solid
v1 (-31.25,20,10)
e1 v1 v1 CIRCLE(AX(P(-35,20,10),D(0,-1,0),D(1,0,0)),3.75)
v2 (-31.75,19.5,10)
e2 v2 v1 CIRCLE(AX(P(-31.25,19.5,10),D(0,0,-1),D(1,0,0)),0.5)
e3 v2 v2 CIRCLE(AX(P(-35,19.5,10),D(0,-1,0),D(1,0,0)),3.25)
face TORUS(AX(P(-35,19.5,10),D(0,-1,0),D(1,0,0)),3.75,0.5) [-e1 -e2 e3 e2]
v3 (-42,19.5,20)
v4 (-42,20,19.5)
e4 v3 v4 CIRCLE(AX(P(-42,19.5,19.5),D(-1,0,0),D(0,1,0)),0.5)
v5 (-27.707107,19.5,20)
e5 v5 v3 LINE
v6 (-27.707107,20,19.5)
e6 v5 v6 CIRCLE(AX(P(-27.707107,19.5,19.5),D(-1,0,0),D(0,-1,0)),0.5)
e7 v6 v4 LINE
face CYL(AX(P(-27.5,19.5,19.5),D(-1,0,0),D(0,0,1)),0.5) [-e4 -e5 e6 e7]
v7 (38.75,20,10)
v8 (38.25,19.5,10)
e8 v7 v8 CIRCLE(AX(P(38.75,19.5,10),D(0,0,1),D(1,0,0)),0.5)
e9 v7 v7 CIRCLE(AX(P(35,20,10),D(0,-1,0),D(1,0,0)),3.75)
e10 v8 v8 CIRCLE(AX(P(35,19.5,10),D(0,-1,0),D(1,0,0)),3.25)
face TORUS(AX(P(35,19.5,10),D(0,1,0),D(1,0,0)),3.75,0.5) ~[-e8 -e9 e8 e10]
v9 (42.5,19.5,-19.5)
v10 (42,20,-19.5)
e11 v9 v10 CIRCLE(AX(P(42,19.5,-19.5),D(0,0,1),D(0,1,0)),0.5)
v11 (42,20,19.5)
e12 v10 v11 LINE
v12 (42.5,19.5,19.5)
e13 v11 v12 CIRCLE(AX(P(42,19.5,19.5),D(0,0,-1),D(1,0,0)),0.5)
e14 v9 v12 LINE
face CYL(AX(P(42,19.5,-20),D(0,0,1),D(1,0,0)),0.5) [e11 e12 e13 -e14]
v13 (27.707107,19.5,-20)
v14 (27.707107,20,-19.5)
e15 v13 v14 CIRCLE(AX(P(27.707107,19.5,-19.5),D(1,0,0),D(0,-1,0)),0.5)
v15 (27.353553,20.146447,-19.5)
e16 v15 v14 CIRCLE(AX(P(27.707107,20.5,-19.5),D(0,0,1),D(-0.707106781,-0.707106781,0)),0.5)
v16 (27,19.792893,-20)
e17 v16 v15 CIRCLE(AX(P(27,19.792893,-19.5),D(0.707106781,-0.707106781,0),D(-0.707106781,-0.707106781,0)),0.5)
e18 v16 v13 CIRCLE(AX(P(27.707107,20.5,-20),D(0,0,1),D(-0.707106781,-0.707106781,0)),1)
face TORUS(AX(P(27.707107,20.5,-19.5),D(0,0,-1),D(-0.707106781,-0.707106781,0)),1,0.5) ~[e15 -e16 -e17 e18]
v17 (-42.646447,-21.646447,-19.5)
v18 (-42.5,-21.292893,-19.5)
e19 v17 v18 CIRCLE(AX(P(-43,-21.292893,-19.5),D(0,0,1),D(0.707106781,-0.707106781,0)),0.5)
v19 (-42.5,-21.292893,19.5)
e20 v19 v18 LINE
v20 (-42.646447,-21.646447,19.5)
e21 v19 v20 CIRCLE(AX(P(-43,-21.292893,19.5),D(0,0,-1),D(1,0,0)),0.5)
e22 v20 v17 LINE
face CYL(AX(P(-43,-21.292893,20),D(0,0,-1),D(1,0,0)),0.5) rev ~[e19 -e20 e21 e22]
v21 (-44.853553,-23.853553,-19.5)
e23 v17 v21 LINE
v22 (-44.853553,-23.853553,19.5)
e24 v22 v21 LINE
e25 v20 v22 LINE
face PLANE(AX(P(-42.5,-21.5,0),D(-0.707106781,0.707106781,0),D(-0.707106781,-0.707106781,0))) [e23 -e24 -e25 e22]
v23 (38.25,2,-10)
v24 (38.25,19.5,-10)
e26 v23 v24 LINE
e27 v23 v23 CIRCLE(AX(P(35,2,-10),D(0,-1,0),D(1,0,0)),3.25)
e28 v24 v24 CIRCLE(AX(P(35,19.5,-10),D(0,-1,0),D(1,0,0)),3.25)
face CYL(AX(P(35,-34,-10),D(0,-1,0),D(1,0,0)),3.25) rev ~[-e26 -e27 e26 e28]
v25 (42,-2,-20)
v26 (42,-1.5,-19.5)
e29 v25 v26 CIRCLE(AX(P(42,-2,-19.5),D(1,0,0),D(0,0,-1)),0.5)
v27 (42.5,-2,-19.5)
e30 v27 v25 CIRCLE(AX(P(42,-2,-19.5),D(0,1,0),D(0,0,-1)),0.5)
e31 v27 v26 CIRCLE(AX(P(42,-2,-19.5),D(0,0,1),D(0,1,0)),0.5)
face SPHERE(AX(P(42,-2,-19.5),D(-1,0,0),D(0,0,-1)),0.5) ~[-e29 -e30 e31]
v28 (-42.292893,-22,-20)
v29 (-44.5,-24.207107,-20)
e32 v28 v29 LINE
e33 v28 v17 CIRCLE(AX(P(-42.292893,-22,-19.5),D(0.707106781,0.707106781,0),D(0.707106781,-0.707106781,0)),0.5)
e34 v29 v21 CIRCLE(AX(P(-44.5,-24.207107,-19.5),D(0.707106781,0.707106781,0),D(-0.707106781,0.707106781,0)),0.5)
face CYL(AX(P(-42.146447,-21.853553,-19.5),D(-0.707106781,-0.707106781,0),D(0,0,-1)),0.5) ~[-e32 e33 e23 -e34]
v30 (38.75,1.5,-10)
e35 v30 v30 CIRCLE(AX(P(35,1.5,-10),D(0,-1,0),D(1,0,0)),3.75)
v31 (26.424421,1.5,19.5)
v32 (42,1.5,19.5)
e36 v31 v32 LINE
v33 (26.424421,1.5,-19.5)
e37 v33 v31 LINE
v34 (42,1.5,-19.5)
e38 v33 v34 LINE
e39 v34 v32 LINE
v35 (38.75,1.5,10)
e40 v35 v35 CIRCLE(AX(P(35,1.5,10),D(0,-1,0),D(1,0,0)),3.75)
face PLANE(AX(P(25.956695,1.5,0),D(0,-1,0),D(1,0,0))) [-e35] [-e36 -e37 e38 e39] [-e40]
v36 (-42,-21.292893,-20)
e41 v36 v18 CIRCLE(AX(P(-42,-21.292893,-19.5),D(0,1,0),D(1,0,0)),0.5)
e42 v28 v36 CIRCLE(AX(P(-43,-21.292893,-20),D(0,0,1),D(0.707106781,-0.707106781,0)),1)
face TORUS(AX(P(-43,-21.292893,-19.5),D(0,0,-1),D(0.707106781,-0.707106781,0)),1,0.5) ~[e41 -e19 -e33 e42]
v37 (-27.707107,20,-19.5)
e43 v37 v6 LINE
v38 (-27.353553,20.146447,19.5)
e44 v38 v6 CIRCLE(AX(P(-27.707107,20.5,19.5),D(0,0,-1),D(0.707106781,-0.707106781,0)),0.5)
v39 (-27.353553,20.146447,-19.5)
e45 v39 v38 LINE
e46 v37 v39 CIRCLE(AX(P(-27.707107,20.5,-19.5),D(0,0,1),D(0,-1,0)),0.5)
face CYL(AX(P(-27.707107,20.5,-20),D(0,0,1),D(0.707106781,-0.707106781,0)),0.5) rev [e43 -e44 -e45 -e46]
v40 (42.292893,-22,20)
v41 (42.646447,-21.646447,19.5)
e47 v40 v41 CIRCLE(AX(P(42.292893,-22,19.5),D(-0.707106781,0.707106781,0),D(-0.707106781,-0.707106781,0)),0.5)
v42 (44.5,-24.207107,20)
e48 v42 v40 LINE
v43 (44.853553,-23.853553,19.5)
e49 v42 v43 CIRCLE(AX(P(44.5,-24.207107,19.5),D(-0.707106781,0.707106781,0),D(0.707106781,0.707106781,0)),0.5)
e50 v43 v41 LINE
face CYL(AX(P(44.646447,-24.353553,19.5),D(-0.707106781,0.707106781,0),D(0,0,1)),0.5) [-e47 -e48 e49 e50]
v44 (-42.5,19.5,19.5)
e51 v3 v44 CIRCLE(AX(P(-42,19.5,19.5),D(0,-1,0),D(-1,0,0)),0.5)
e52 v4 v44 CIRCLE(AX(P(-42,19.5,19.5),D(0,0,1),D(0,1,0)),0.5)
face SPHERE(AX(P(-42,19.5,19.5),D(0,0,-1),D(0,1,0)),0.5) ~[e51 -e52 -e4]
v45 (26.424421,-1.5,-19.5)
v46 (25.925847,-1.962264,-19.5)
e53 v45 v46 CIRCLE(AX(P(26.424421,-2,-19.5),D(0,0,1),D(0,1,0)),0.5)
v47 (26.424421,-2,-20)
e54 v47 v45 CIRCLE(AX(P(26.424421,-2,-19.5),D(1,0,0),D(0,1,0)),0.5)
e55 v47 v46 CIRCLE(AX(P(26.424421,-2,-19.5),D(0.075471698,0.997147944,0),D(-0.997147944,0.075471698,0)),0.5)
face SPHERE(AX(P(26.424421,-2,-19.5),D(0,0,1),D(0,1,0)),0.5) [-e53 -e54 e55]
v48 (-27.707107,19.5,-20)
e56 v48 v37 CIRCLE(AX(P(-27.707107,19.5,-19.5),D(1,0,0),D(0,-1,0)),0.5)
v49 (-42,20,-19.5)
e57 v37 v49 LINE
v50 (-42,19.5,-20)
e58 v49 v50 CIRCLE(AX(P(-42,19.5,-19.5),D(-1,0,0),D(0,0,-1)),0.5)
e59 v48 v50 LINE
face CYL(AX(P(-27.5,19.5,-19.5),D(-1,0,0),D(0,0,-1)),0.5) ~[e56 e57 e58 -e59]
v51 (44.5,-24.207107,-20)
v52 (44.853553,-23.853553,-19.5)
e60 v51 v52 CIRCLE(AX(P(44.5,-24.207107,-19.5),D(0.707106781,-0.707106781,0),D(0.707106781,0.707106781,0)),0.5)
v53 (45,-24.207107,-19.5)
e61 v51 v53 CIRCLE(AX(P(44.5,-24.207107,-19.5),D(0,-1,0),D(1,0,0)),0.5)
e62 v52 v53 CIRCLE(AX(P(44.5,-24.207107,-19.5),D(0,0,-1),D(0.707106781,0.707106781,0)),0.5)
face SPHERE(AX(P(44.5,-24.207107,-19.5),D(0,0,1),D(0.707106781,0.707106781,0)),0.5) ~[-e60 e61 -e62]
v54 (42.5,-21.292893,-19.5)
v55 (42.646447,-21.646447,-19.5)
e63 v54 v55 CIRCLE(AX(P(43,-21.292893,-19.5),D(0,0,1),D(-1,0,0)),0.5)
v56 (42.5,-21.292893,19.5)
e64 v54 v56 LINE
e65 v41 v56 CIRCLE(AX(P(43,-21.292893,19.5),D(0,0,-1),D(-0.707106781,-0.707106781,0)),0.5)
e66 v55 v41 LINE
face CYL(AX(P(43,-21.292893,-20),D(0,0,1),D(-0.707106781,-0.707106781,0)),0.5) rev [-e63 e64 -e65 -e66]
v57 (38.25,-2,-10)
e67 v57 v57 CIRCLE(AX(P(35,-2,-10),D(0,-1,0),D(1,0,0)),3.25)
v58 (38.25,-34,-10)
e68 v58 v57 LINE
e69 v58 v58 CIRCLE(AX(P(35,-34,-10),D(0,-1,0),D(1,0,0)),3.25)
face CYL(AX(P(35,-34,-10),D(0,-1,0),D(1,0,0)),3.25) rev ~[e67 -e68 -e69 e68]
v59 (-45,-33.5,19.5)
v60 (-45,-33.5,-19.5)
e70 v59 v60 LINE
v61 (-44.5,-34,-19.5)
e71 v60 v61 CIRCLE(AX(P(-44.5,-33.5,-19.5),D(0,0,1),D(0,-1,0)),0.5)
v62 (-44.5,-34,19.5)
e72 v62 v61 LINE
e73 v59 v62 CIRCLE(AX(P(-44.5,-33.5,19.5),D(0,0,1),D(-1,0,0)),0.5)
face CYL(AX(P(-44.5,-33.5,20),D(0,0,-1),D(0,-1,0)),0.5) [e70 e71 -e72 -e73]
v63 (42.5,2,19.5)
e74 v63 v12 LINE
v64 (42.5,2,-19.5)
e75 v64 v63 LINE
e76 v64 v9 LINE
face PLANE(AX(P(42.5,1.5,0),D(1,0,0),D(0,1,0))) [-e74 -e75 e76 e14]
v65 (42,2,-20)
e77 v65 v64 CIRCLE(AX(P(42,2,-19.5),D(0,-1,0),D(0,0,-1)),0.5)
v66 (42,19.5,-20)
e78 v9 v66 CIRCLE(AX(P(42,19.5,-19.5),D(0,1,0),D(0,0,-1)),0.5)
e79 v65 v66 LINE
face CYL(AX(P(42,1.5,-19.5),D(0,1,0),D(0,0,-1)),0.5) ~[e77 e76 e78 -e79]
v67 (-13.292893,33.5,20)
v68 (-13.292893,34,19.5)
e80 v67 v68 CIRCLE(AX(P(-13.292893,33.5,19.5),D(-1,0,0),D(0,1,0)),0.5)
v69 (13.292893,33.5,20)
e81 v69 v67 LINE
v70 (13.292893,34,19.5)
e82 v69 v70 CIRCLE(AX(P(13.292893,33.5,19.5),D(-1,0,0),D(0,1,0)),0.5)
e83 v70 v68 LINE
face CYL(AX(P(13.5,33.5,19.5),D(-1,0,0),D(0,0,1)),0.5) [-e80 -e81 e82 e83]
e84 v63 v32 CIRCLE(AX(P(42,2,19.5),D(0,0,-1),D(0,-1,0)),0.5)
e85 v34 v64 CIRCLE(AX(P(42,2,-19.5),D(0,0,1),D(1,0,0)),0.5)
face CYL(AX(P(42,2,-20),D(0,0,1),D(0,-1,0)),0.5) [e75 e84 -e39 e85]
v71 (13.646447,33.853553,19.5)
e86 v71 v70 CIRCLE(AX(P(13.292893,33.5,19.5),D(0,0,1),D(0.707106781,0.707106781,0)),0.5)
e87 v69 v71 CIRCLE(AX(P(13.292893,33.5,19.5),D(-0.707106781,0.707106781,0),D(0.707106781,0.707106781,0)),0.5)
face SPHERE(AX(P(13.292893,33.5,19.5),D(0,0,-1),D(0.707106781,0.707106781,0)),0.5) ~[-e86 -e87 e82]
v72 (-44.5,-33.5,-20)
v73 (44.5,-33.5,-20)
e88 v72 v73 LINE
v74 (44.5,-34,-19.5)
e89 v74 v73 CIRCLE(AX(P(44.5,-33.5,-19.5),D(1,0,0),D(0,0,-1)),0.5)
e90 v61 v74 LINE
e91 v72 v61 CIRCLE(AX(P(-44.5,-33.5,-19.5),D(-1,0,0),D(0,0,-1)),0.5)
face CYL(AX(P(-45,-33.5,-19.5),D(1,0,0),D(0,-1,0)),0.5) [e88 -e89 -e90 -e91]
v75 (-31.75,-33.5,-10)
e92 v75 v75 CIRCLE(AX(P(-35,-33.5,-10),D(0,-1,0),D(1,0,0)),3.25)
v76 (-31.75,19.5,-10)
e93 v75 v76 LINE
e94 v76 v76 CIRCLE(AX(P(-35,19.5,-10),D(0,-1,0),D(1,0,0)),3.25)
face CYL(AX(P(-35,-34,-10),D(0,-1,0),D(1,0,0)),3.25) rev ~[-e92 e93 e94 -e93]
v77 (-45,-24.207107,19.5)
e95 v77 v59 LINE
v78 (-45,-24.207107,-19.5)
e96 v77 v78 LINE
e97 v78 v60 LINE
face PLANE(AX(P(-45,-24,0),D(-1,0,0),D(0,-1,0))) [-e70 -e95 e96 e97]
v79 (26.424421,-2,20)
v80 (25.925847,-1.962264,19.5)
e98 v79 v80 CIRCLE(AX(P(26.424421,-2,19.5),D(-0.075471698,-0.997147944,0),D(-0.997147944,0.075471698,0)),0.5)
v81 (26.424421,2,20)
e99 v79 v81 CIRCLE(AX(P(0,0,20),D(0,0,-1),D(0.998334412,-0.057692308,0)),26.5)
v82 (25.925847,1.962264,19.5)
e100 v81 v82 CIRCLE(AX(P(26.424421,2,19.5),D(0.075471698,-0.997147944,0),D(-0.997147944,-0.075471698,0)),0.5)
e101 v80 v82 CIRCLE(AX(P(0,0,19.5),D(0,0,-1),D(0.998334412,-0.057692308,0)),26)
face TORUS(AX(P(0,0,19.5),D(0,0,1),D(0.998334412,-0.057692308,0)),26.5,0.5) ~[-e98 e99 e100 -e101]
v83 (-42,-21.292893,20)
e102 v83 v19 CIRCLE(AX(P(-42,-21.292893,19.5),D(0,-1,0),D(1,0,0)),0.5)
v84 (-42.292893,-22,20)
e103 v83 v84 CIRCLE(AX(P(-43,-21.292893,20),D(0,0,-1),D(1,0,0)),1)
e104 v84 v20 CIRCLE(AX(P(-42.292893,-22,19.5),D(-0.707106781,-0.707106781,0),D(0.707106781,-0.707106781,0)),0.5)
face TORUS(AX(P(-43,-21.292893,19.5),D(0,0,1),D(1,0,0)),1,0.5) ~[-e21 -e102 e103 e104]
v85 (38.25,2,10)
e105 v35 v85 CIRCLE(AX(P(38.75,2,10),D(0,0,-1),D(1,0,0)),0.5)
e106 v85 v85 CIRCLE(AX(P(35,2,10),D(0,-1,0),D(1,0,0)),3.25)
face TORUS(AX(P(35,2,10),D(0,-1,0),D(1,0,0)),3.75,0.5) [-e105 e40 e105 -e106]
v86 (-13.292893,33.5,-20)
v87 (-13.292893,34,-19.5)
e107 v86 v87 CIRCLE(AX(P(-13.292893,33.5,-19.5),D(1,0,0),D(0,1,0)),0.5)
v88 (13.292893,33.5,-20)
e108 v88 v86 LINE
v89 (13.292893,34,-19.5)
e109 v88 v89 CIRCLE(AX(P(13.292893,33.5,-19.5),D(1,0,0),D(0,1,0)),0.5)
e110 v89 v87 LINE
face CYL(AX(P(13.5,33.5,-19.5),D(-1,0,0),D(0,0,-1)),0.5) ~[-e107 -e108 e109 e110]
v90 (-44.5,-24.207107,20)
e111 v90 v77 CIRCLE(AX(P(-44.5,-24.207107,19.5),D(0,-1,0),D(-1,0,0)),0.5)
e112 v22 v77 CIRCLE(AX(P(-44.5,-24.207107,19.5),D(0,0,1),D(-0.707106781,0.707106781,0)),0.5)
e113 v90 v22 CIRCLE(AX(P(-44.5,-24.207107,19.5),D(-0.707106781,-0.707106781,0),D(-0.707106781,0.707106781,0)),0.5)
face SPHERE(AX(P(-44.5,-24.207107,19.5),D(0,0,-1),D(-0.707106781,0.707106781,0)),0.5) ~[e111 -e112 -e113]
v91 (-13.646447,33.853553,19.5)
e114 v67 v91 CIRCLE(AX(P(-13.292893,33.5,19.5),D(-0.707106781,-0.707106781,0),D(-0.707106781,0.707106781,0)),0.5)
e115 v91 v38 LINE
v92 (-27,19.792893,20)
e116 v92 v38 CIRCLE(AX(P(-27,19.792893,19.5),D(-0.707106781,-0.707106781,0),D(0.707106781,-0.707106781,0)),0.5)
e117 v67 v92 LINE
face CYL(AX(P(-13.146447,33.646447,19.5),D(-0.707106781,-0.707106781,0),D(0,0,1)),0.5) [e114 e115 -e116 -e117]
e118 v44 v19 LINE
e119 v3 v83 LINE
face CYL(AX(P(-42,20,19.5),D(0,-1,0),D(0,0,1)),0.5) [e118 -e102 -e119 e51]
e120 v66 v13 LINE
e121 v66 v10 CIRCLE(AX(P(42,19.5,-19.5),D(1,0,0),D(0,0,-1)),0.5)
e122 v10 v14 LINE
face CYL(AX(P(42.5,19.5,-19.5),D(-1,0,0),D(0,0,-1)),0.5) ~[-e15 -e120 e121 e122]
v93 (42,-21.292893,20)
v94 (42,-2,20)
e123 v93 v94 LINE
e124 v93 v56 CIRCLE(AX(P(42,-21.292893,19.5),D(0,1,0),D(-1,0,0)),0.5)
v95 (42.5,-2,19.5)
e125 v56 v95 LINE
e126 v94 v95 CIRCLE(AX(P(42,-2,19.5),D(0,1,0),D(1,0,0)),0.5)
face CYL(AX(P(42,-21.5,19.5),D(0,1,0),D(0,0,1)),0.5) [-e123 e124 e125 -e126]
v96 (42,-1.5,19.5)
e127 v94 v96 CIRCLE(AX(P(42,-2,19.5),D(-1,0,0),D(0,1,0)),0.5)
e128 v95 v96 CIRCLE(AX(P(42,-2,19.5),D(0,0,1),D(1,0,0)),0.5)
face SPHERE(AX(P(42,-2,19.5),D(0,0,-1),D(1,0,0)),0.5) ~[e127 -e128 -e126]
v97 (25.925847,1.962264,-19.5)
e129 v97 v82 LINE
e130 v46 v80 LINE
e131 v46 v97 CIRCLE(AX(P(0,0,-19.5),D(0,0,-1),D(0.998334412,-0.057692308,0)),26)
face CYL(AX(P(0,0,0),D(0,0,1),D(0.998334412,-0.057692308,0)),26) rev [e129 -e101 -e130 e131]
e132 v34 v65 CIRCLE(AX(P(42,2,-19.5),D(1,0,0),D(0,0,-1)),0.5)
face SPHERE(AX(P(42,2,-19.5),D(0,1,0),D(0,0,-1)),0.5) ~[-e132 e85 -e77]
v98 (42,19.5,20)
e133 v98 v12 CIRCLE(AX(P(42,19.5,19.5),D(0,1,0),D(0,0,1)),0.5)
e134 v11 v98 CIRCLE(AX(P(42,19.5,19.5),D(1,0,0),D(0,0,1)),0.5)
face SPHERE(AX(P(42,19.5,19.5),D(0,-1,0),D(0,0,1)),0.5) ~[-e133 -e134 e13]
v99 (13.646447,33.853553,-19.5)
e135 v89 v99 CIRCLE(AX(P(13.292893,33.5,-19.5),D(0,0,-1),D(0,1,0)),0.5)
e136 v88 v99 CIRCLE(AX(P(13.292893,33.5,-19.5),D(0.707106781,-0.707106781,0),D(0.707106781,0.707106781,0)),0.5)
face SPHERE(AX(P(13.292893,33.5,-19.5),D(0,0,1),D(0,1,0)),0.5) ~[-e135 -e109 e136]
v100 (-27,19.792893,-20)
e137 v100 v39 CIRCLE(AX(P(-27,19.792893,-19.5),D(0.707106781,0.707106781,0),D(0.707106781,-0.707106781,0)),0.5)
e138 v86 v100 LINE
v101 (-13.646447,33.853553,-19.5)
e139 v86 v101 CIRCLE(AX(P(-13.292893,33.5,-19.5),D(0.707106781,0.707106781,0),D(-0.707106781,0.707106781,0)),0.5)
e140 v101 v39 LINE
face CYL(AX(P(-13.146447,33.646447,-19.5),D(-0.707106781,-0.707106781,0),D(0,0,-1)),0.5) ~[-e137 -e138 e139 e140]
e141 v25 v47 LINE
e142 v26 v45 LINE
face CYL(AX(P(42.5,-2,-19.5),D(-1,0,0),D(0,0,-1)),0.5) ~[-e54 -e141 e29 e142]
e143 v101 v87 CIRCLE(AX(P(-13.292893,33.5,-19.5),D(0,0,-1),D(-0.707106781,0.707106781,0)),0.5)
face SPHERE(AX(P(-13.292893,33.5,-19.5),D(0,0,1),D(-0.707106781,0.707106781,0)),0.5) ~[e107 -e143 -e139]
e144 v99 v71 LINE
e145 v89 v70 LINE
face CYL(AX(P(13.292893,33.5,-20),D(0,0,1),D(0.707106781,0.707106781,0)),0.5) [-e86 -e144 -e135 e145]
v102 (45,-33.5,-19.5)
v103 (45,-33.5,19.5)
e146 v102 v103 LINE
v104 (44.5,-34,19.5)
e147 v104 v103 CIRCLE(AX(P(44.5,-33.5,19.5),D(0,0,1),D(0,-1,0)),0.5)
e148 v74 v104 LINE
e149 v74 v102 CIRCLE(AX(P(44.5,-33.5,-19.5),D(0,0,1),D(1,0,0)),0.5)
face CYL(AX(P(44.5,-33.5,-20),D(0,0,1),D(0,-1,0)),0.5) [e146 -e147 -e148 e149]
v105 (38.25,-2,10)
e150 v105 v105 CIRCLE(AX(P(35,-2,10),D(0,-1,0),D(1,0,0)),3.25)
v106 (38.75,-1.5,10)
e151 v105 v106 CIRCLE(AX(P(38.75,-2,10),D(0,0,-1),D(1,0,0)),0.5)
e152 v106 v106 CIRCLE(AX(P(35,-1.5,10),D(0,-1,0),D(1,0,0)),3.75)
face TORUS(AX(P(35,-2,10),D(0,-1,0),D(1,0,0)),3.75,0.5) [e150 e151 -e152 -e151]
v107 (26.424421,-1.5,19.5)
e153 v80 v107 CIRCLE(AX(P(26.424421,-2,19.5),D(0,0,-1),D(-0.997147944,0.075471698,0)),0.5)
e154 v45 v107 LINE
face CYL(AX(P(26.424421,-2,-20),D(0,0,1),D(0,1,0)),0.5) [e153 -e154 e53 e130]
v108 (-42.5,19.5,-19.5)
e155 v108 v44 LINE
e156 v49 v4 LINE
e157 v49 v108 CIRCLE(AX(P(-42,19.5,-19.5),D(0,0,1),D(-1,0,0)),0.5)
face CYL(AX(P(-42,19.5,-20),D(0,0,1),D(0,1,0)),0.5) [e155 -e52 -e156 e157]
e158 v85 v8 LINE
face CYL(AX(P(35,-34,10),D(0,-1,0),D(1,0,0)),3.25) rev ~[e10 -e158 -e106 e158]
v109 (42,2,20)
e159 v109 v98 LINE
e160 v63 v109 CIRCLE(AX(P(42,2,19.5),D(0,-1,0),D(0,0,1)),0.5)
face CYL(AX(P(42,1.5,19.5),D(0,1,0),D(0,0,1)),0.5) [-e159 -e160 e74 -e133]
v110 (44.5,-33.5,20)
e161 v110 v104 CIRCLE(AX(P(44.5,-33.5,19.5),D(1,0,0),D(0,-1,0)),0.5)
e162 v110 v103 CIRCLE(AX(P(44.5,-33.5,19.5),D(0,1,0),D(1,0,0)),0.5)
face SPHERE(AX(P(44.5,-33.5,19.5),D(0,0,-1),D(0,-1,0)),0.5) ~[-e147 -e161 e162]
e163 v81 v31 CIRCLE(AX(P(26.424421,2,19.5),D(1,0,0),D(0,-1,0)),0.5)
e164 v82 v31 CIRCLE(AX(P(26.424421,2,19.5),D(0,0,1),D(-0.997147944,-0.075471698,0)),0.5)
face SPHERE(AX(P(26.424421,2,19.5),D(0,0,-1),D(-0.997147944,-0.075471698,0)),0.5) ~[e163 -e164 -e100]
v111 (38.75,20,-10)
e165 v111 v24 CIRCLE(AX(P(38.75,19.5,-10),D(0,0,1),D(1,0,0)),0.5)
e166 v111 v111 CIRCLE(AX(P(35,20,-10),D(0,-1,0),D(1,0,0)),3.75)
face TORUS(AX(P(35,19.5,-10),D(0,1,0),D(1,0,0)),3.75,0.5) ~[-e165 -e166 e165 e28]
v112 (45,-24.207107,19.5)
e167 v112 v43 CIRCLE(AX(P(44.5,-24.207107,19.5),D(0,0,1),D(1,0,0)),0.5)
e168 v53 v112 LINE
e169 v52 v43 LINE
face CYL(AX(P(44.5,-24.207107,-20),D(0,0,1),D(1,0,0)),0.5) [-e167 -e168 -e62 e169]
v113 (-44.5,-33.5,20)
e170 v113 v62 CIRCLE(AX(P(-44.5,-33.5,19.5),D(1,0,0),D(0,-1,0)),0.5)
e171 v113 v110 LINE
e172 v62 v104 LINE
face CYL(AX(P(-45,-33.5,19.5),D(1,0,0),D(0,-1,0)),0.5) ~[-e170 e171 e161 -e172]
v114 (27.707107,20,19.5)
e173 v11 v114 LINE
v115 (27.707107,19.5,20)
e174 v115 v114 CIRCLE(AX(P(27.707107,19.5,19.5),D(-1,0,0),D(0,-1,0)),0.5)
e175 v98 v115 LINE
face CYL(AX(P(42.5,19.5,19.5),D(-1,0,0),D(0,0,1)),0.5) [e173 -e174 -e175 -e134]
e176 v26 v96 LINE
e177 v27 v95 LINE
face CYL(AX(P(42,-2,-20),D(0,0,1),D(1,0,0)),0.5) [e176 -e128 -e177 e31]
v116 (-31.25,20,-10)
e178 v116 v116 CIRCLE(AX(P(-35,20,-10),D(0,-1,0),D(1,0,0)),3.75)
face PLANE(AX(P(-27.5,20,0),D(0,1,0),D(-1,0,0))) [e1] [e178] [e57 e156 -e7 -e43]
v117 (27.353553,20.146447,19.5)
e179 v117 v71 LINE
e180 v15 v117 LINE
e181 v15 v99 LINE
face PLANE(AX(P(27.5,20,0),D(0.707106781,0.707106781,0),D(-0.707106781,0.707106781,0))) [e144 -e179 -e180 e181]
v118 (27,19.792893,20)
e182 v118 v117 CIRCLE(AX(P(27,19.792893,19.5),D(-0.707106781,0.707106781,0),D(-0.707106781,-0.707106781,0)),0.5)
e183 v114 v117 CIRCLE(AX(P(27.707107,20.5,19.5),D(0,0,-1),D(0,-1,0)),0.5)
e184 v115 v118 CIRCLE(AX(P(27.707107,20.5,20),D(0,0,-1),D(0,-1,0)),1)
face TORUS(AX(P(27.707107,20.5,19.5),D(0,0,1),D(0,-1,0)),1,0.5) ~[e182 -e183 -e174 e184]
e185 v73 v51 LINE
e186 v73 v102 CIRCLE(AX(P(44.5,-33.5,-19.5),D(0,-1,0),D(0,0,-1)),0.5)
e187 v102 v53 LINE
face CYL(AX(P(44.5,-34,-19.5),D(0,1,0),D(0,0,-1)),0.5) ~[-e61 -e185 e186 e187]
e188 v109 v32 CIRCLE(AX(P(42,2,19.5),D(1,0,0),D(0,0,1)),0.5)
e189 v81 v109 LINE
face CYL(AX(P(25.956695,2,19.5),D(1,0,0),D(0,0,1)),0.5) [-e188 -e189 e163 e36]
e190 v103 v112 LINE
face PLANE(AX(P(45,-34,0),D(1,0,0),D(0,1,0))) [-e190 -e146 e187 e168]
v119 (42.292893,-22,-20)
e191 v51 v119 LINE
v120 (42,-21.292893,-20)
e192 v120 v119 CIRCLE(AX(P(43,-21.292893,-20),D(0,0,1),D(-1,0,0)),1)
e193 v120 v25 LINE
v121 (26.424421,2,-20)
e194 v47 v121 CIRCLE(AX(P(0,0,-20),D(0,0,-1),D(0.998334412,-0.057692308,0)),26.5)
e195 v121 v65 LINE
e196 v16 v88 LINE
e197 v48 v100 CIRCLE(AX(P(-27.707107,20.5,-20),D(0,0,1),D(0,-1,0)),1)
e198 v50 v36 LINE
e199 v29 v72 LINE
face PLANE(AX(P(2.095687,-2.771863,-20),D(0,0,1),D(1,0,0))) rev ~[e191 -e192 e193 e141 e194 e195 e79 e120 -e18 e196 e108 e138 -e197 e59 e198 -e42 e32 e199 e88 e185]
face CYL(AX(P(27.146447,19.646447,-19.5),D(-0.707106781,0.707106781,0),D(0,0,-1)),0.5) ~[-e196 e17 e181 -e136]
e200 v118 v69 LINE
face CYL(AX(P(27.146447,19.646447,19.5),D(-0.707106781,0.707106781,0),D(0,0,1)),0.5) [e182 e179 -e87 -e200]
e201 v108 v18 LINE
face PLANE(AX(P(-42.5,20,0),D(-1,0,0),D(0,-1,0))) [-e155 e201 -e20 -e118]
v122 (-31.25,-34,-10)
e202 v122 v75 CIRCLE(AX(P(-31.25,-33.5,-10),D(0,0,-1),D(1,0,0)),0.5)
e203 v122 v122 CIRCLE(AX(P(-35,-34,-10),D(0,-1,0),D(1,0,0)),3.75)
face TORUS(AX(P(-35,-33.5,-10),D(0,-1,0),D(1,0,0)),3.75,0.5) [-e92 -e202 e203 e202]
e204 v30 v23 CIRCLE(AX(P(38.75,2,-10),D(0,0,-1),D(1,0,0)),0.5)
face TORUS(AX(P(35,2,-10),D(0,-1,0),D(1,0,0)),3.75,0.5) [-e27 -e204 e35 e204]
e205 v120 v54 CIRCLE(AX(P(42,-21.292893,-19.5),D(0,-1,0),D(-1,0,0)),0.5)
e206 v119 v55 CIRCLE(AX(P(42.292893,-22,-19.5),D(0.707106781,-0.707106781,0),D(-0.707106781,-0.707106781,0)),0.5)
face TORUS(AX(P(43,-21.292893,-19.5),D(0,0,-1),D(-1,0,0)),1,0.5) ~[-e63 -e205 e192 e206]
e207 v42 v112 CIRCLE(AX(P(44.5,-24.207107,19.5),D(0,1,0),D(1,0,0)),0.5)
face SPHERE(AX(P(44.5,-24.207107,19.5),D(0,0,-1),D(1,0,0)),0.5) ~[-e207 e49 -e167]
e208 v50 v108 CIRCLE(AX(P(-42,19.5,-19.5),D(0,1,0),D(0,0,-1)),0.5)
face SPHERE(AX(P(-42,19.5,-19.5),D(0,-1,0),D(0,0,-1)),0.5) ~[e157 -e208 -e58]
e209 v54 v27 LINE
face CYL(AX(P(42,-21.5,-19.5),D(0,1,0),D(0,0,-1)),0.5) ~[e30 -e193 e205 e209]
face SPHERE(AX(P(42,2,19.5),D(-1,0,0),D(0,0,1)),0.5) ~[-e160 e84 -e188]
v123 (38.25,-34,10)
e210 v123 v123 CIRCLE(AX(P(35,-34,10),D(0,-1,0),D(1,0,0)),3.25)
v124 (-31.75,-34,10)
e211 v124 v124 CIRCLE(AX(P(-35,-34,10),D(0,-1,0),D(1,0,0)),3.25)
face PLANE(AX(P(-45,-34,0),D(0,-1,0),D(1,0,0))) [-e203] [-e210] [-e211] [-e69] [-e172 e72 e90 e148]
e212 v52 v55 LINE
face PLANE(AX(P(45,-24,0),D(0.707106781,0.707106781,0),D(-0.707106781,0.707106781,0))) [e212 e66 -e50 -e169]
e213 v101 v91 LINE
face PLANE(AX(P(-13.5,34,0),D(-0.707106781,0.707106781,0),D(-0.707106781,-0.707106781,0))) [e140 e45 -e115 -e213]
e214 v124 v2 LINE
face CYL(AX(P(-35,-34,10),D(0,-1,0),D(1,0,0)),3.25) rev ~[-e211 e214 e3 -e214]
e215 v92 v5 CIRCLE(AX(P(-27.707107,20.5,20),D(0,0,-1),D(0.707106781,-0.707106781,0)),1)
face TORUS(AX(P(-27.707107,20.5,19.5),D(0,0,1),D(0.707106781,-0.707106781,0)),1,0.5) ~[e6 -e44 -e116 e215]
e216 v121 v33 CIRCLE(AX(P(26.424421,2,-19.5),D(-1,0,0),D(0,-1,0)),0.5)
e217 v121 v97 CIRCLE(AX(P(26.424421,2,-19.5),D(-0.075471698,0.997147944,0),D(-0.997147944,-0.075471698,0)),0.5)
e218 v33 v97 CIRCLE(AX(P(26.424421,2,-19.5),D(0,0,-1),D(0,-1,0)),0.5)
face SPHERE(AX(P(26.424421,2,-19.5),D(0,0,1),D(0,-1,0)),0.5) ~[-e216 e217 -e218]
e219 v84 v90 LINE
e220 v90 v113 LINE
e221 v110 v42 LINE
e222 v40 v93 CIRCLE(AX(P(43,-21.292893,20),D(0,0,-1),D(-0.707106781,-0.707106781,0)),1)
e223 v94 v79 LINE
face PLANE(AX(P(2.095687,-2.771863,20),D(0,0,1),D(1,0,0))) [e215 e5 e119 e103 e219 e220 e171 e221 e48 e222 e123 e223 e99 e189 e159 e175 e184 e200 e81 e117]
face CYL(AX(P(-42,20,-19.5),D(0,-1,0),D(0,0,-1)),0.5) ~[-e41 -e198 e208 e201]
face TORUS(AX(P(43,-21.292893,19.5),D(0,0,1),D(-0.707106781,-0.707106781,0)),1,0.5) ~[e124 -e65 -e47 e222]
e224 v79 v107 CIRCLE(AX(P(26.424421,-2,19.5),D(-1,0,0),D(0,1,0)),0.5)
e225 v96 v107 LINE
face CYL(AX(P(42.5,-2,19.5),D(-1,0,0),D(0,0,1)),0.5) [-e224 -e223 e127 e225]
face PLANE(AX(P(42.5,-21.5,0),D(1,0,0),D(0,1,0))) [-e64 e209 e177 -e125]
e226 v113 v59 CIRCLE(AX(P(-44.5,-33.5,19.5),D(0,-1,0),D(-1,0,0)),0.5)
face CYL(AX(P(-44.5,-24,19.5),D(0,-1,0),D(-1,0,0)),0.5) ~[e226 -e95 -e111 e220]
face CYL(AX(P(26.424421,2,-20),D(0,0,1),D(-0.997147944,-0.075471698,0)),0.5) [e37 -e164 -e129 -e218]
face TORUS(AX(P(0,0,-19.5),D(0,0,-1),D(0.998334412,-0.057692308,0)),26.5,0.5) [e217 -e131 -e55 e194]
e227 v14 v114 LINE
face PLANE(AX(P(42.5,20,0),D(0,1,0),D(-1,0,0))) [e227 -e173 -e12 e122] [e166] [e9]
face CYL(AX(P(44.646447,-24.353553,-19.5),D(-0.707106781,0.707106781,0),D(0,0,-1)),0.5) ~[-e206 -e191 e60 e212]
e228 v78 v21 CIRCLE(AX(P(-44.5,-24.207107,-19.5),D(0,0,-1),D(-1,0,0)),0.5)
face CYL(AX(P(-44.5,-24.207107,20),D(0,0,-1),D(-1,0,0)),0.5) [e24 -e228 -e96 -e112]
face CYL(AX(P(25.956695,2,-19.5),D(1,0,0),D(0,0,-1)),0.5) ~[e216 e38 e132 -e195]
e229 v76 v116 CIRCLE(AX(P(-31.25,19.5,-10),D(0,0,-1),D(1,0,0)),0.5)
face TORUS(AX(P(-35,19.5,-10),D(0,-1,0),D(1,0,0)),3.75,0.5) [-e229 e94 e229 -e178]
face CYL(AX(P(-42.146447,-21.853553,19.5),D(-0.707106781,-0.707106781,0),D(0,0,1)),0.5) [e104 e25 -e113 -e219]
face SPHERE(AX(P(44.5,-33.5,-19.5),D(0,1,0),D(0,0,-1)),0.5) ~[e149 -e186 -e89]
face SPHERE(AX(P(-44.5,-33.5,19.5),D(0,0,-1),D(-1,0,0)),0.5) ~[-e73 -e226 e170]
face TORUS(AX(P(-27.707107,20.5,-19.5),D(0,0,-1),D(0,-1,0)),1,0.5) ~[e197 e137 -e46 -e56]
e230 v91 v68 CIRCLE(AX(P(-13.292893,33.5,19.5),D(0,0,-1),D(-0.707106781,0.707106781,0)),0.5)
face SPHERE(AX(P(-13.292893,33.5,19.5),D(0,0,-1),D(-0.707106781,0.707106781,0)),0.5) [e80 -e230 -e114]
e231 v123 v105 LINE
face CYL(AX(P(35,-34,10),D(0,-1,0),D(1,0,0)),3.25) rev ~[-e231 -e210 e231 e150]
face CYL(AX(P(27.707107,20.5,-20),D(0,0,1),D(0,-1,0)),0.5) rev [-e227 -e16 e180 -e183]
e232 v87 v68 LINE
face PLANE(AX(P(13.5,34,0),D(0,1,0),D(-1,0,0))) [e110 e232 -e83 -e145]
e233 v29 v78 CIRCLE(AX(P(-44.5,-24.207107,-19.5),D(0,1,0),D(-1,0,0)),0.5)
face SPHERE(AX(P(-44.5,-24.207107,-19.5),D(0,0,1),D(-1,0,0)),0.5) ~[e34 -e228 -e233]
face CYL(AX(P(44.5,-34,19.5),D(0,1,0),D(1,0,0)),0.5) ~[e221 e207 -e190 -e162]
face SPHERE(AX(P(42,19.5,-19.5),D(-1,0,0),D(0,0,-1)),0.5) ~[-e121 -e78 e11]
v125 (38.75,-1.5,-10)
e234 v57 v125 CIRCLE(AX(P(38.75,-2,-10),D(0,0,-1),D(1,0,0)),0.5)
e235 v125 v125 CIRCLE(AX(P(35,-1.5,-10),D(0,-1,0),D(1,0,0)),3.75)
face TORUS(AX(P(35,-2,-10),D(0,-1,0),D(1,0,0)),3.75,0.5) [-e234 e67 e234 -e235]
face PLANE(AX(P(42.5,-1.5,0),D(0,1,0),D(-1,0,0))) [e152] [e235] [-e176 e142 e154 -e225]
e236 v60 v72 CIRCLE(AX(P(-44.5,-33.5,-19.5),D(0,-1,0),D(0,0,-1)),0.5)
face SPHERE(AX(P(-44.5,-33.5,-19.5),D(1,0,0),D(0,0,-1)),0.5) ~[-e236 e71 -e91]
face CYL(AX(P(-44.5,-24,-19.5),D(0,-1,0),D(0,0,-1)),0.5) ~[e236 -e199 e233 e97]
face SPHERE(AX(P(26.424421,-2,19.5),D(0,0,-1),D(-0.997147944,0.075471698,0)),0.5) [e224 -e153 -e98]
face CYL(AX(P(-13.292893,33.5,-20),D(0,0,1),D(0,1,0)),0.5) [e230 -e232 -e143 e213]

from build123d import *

# Parameters (mm, degrees)
BOSS_EXTRUDE1_DEPTH = 20
SKETCH2_R           = 3.25
CUT_EXTRUDE1_DEPTH  = 69
FILLET1_R           = 0.5


with BuildPart() as part:
    # Sketch1 → Boss-Extrude1 (new body, symmetric)
    with BuildSketch(Plane.XY):
        with BuildLine():
            Line((-45, -34), (45, -34))
            Line((45, -34), (45, -24))
            Line((45, -24), (42.5, -21.5))
            Line((42.5, -21.5), (42.5, -1.5))
            Line((42.5, -1.5), (25.956694705, -1.5))
            ThreePointArc((25.956694705, -1.5), (-26, 0), (25.956694705, 1.5))
            Line((25.956694705, 1.5), (42.5, 1.5))
            Line((42.5, 1.5), (42.5, 20))
            Line((42.5, 20), (27.5, 20))
            Line((27.5, 20), (13.5, 34))
            Line((13.5, 34), (-13.5, 34))
            Line((-13.5, 34), (-27.5, 20))
            Line((-27.5, 20), (-42.5, 20))
            Line((-42.5, 20), (-42.5, -21.5))
            Line((-42.5, -21.5), (-45, -24))
            Line((-45, -24), (-45, -34))
        make_face()
    extrude(amount=BOSS_EXTRUDE1_DEPTH, both=True)

    # Sketch2 → Cut-Extrude1 (cut, through all)
    with BuildSketch(Plane.XZ.offset(34)):
        with Locations((-35, 10)):
            Circle(SKETCH2_R)
        with Locations((-35, -10)):
            Circle(SKETCH2_R)
        with Locations((35, -10)):
            Circle(SKETCH2_R)
        with Locations((35, 10)):
            Circle(SKETCH2_R)
    extrude(amount=-CUT_EXTRUDE1_DEPTH, mode=Mode.SUBTRACT)

    # Fillet1
    fillet1_edges = [part.edges().sort_by_distance(p)[0] for p in [
        (34.228347352, 1.5, 20),
        (42.5, 10.75, 20),
        (34.228347352, -1.5, -20),
        (42.5, -11.5, -20),
        (43.75, -22.75, -20),
        (45, -29, -20),
        (0, -34, -20),
        (-45, -29, -20),
        (-43.75, -22.75, -20),
        (35, 20, 20),
        (-42.5, -0.75, -20),
        (-35, 20, -20),
        (-20.5, 27, -20),
        (0, 34, -20),
        (20.5, 27, -20),
        (35, 20, -20),
        (42.5, 10.75, -20),
        (34.228347352, 1.5, -20),
        (-26, 0, -20),
        (20.5, 27, 20),
        (25.956694705, -1.5, 0),
        (42.5, -1.5, 0),
        (42.5, -21.5, 0),
        (45, -24, 0),
        (45, -34, 0),
        (-45, -34, 0),
        (-45, -24, 0),
        (0, 34, 20),
        (-42.5, -21.5, 0),
        (-42.5, 20, 0),
        (-27.5, 20, 0),
        (-13.5, 34, 0),
        (13.5, 34, 0),
        (27.5, 20, 0),
        (42.5, 20, 0),
        (42.5, 1.5, 0),
        (25.956694705, 1.5, 0),
        (-20.5, 27, 20),
        (-35, 20, 20),
        (-42.5, -0.75, 20),
        (-43.75, -22.75, 20),
        (31.75, 1.5, 10),
        (31.75, 20, 10),
        (31.75, -1.5, 10),
        (-45, -29, 20),
        (31.75, 1.5, -10),
        (31.75, 20, -10),
        (31.75, -1.5, -10),
        (-26, 0, 20),
        (0, -34, 20),
        (-38.25, 20, -10),
        (-38.25, -34, -10),
        (-38.25, 20, 10),
        (45, -29, 20),
        (43.75, -22.75, 20),
        (42.5, -11.5, 20),
        (34.228347352, -1.5, 20),
    ]]
    fillet(fillet1_edges, radius=FILLET1_R)


solid = part.part
